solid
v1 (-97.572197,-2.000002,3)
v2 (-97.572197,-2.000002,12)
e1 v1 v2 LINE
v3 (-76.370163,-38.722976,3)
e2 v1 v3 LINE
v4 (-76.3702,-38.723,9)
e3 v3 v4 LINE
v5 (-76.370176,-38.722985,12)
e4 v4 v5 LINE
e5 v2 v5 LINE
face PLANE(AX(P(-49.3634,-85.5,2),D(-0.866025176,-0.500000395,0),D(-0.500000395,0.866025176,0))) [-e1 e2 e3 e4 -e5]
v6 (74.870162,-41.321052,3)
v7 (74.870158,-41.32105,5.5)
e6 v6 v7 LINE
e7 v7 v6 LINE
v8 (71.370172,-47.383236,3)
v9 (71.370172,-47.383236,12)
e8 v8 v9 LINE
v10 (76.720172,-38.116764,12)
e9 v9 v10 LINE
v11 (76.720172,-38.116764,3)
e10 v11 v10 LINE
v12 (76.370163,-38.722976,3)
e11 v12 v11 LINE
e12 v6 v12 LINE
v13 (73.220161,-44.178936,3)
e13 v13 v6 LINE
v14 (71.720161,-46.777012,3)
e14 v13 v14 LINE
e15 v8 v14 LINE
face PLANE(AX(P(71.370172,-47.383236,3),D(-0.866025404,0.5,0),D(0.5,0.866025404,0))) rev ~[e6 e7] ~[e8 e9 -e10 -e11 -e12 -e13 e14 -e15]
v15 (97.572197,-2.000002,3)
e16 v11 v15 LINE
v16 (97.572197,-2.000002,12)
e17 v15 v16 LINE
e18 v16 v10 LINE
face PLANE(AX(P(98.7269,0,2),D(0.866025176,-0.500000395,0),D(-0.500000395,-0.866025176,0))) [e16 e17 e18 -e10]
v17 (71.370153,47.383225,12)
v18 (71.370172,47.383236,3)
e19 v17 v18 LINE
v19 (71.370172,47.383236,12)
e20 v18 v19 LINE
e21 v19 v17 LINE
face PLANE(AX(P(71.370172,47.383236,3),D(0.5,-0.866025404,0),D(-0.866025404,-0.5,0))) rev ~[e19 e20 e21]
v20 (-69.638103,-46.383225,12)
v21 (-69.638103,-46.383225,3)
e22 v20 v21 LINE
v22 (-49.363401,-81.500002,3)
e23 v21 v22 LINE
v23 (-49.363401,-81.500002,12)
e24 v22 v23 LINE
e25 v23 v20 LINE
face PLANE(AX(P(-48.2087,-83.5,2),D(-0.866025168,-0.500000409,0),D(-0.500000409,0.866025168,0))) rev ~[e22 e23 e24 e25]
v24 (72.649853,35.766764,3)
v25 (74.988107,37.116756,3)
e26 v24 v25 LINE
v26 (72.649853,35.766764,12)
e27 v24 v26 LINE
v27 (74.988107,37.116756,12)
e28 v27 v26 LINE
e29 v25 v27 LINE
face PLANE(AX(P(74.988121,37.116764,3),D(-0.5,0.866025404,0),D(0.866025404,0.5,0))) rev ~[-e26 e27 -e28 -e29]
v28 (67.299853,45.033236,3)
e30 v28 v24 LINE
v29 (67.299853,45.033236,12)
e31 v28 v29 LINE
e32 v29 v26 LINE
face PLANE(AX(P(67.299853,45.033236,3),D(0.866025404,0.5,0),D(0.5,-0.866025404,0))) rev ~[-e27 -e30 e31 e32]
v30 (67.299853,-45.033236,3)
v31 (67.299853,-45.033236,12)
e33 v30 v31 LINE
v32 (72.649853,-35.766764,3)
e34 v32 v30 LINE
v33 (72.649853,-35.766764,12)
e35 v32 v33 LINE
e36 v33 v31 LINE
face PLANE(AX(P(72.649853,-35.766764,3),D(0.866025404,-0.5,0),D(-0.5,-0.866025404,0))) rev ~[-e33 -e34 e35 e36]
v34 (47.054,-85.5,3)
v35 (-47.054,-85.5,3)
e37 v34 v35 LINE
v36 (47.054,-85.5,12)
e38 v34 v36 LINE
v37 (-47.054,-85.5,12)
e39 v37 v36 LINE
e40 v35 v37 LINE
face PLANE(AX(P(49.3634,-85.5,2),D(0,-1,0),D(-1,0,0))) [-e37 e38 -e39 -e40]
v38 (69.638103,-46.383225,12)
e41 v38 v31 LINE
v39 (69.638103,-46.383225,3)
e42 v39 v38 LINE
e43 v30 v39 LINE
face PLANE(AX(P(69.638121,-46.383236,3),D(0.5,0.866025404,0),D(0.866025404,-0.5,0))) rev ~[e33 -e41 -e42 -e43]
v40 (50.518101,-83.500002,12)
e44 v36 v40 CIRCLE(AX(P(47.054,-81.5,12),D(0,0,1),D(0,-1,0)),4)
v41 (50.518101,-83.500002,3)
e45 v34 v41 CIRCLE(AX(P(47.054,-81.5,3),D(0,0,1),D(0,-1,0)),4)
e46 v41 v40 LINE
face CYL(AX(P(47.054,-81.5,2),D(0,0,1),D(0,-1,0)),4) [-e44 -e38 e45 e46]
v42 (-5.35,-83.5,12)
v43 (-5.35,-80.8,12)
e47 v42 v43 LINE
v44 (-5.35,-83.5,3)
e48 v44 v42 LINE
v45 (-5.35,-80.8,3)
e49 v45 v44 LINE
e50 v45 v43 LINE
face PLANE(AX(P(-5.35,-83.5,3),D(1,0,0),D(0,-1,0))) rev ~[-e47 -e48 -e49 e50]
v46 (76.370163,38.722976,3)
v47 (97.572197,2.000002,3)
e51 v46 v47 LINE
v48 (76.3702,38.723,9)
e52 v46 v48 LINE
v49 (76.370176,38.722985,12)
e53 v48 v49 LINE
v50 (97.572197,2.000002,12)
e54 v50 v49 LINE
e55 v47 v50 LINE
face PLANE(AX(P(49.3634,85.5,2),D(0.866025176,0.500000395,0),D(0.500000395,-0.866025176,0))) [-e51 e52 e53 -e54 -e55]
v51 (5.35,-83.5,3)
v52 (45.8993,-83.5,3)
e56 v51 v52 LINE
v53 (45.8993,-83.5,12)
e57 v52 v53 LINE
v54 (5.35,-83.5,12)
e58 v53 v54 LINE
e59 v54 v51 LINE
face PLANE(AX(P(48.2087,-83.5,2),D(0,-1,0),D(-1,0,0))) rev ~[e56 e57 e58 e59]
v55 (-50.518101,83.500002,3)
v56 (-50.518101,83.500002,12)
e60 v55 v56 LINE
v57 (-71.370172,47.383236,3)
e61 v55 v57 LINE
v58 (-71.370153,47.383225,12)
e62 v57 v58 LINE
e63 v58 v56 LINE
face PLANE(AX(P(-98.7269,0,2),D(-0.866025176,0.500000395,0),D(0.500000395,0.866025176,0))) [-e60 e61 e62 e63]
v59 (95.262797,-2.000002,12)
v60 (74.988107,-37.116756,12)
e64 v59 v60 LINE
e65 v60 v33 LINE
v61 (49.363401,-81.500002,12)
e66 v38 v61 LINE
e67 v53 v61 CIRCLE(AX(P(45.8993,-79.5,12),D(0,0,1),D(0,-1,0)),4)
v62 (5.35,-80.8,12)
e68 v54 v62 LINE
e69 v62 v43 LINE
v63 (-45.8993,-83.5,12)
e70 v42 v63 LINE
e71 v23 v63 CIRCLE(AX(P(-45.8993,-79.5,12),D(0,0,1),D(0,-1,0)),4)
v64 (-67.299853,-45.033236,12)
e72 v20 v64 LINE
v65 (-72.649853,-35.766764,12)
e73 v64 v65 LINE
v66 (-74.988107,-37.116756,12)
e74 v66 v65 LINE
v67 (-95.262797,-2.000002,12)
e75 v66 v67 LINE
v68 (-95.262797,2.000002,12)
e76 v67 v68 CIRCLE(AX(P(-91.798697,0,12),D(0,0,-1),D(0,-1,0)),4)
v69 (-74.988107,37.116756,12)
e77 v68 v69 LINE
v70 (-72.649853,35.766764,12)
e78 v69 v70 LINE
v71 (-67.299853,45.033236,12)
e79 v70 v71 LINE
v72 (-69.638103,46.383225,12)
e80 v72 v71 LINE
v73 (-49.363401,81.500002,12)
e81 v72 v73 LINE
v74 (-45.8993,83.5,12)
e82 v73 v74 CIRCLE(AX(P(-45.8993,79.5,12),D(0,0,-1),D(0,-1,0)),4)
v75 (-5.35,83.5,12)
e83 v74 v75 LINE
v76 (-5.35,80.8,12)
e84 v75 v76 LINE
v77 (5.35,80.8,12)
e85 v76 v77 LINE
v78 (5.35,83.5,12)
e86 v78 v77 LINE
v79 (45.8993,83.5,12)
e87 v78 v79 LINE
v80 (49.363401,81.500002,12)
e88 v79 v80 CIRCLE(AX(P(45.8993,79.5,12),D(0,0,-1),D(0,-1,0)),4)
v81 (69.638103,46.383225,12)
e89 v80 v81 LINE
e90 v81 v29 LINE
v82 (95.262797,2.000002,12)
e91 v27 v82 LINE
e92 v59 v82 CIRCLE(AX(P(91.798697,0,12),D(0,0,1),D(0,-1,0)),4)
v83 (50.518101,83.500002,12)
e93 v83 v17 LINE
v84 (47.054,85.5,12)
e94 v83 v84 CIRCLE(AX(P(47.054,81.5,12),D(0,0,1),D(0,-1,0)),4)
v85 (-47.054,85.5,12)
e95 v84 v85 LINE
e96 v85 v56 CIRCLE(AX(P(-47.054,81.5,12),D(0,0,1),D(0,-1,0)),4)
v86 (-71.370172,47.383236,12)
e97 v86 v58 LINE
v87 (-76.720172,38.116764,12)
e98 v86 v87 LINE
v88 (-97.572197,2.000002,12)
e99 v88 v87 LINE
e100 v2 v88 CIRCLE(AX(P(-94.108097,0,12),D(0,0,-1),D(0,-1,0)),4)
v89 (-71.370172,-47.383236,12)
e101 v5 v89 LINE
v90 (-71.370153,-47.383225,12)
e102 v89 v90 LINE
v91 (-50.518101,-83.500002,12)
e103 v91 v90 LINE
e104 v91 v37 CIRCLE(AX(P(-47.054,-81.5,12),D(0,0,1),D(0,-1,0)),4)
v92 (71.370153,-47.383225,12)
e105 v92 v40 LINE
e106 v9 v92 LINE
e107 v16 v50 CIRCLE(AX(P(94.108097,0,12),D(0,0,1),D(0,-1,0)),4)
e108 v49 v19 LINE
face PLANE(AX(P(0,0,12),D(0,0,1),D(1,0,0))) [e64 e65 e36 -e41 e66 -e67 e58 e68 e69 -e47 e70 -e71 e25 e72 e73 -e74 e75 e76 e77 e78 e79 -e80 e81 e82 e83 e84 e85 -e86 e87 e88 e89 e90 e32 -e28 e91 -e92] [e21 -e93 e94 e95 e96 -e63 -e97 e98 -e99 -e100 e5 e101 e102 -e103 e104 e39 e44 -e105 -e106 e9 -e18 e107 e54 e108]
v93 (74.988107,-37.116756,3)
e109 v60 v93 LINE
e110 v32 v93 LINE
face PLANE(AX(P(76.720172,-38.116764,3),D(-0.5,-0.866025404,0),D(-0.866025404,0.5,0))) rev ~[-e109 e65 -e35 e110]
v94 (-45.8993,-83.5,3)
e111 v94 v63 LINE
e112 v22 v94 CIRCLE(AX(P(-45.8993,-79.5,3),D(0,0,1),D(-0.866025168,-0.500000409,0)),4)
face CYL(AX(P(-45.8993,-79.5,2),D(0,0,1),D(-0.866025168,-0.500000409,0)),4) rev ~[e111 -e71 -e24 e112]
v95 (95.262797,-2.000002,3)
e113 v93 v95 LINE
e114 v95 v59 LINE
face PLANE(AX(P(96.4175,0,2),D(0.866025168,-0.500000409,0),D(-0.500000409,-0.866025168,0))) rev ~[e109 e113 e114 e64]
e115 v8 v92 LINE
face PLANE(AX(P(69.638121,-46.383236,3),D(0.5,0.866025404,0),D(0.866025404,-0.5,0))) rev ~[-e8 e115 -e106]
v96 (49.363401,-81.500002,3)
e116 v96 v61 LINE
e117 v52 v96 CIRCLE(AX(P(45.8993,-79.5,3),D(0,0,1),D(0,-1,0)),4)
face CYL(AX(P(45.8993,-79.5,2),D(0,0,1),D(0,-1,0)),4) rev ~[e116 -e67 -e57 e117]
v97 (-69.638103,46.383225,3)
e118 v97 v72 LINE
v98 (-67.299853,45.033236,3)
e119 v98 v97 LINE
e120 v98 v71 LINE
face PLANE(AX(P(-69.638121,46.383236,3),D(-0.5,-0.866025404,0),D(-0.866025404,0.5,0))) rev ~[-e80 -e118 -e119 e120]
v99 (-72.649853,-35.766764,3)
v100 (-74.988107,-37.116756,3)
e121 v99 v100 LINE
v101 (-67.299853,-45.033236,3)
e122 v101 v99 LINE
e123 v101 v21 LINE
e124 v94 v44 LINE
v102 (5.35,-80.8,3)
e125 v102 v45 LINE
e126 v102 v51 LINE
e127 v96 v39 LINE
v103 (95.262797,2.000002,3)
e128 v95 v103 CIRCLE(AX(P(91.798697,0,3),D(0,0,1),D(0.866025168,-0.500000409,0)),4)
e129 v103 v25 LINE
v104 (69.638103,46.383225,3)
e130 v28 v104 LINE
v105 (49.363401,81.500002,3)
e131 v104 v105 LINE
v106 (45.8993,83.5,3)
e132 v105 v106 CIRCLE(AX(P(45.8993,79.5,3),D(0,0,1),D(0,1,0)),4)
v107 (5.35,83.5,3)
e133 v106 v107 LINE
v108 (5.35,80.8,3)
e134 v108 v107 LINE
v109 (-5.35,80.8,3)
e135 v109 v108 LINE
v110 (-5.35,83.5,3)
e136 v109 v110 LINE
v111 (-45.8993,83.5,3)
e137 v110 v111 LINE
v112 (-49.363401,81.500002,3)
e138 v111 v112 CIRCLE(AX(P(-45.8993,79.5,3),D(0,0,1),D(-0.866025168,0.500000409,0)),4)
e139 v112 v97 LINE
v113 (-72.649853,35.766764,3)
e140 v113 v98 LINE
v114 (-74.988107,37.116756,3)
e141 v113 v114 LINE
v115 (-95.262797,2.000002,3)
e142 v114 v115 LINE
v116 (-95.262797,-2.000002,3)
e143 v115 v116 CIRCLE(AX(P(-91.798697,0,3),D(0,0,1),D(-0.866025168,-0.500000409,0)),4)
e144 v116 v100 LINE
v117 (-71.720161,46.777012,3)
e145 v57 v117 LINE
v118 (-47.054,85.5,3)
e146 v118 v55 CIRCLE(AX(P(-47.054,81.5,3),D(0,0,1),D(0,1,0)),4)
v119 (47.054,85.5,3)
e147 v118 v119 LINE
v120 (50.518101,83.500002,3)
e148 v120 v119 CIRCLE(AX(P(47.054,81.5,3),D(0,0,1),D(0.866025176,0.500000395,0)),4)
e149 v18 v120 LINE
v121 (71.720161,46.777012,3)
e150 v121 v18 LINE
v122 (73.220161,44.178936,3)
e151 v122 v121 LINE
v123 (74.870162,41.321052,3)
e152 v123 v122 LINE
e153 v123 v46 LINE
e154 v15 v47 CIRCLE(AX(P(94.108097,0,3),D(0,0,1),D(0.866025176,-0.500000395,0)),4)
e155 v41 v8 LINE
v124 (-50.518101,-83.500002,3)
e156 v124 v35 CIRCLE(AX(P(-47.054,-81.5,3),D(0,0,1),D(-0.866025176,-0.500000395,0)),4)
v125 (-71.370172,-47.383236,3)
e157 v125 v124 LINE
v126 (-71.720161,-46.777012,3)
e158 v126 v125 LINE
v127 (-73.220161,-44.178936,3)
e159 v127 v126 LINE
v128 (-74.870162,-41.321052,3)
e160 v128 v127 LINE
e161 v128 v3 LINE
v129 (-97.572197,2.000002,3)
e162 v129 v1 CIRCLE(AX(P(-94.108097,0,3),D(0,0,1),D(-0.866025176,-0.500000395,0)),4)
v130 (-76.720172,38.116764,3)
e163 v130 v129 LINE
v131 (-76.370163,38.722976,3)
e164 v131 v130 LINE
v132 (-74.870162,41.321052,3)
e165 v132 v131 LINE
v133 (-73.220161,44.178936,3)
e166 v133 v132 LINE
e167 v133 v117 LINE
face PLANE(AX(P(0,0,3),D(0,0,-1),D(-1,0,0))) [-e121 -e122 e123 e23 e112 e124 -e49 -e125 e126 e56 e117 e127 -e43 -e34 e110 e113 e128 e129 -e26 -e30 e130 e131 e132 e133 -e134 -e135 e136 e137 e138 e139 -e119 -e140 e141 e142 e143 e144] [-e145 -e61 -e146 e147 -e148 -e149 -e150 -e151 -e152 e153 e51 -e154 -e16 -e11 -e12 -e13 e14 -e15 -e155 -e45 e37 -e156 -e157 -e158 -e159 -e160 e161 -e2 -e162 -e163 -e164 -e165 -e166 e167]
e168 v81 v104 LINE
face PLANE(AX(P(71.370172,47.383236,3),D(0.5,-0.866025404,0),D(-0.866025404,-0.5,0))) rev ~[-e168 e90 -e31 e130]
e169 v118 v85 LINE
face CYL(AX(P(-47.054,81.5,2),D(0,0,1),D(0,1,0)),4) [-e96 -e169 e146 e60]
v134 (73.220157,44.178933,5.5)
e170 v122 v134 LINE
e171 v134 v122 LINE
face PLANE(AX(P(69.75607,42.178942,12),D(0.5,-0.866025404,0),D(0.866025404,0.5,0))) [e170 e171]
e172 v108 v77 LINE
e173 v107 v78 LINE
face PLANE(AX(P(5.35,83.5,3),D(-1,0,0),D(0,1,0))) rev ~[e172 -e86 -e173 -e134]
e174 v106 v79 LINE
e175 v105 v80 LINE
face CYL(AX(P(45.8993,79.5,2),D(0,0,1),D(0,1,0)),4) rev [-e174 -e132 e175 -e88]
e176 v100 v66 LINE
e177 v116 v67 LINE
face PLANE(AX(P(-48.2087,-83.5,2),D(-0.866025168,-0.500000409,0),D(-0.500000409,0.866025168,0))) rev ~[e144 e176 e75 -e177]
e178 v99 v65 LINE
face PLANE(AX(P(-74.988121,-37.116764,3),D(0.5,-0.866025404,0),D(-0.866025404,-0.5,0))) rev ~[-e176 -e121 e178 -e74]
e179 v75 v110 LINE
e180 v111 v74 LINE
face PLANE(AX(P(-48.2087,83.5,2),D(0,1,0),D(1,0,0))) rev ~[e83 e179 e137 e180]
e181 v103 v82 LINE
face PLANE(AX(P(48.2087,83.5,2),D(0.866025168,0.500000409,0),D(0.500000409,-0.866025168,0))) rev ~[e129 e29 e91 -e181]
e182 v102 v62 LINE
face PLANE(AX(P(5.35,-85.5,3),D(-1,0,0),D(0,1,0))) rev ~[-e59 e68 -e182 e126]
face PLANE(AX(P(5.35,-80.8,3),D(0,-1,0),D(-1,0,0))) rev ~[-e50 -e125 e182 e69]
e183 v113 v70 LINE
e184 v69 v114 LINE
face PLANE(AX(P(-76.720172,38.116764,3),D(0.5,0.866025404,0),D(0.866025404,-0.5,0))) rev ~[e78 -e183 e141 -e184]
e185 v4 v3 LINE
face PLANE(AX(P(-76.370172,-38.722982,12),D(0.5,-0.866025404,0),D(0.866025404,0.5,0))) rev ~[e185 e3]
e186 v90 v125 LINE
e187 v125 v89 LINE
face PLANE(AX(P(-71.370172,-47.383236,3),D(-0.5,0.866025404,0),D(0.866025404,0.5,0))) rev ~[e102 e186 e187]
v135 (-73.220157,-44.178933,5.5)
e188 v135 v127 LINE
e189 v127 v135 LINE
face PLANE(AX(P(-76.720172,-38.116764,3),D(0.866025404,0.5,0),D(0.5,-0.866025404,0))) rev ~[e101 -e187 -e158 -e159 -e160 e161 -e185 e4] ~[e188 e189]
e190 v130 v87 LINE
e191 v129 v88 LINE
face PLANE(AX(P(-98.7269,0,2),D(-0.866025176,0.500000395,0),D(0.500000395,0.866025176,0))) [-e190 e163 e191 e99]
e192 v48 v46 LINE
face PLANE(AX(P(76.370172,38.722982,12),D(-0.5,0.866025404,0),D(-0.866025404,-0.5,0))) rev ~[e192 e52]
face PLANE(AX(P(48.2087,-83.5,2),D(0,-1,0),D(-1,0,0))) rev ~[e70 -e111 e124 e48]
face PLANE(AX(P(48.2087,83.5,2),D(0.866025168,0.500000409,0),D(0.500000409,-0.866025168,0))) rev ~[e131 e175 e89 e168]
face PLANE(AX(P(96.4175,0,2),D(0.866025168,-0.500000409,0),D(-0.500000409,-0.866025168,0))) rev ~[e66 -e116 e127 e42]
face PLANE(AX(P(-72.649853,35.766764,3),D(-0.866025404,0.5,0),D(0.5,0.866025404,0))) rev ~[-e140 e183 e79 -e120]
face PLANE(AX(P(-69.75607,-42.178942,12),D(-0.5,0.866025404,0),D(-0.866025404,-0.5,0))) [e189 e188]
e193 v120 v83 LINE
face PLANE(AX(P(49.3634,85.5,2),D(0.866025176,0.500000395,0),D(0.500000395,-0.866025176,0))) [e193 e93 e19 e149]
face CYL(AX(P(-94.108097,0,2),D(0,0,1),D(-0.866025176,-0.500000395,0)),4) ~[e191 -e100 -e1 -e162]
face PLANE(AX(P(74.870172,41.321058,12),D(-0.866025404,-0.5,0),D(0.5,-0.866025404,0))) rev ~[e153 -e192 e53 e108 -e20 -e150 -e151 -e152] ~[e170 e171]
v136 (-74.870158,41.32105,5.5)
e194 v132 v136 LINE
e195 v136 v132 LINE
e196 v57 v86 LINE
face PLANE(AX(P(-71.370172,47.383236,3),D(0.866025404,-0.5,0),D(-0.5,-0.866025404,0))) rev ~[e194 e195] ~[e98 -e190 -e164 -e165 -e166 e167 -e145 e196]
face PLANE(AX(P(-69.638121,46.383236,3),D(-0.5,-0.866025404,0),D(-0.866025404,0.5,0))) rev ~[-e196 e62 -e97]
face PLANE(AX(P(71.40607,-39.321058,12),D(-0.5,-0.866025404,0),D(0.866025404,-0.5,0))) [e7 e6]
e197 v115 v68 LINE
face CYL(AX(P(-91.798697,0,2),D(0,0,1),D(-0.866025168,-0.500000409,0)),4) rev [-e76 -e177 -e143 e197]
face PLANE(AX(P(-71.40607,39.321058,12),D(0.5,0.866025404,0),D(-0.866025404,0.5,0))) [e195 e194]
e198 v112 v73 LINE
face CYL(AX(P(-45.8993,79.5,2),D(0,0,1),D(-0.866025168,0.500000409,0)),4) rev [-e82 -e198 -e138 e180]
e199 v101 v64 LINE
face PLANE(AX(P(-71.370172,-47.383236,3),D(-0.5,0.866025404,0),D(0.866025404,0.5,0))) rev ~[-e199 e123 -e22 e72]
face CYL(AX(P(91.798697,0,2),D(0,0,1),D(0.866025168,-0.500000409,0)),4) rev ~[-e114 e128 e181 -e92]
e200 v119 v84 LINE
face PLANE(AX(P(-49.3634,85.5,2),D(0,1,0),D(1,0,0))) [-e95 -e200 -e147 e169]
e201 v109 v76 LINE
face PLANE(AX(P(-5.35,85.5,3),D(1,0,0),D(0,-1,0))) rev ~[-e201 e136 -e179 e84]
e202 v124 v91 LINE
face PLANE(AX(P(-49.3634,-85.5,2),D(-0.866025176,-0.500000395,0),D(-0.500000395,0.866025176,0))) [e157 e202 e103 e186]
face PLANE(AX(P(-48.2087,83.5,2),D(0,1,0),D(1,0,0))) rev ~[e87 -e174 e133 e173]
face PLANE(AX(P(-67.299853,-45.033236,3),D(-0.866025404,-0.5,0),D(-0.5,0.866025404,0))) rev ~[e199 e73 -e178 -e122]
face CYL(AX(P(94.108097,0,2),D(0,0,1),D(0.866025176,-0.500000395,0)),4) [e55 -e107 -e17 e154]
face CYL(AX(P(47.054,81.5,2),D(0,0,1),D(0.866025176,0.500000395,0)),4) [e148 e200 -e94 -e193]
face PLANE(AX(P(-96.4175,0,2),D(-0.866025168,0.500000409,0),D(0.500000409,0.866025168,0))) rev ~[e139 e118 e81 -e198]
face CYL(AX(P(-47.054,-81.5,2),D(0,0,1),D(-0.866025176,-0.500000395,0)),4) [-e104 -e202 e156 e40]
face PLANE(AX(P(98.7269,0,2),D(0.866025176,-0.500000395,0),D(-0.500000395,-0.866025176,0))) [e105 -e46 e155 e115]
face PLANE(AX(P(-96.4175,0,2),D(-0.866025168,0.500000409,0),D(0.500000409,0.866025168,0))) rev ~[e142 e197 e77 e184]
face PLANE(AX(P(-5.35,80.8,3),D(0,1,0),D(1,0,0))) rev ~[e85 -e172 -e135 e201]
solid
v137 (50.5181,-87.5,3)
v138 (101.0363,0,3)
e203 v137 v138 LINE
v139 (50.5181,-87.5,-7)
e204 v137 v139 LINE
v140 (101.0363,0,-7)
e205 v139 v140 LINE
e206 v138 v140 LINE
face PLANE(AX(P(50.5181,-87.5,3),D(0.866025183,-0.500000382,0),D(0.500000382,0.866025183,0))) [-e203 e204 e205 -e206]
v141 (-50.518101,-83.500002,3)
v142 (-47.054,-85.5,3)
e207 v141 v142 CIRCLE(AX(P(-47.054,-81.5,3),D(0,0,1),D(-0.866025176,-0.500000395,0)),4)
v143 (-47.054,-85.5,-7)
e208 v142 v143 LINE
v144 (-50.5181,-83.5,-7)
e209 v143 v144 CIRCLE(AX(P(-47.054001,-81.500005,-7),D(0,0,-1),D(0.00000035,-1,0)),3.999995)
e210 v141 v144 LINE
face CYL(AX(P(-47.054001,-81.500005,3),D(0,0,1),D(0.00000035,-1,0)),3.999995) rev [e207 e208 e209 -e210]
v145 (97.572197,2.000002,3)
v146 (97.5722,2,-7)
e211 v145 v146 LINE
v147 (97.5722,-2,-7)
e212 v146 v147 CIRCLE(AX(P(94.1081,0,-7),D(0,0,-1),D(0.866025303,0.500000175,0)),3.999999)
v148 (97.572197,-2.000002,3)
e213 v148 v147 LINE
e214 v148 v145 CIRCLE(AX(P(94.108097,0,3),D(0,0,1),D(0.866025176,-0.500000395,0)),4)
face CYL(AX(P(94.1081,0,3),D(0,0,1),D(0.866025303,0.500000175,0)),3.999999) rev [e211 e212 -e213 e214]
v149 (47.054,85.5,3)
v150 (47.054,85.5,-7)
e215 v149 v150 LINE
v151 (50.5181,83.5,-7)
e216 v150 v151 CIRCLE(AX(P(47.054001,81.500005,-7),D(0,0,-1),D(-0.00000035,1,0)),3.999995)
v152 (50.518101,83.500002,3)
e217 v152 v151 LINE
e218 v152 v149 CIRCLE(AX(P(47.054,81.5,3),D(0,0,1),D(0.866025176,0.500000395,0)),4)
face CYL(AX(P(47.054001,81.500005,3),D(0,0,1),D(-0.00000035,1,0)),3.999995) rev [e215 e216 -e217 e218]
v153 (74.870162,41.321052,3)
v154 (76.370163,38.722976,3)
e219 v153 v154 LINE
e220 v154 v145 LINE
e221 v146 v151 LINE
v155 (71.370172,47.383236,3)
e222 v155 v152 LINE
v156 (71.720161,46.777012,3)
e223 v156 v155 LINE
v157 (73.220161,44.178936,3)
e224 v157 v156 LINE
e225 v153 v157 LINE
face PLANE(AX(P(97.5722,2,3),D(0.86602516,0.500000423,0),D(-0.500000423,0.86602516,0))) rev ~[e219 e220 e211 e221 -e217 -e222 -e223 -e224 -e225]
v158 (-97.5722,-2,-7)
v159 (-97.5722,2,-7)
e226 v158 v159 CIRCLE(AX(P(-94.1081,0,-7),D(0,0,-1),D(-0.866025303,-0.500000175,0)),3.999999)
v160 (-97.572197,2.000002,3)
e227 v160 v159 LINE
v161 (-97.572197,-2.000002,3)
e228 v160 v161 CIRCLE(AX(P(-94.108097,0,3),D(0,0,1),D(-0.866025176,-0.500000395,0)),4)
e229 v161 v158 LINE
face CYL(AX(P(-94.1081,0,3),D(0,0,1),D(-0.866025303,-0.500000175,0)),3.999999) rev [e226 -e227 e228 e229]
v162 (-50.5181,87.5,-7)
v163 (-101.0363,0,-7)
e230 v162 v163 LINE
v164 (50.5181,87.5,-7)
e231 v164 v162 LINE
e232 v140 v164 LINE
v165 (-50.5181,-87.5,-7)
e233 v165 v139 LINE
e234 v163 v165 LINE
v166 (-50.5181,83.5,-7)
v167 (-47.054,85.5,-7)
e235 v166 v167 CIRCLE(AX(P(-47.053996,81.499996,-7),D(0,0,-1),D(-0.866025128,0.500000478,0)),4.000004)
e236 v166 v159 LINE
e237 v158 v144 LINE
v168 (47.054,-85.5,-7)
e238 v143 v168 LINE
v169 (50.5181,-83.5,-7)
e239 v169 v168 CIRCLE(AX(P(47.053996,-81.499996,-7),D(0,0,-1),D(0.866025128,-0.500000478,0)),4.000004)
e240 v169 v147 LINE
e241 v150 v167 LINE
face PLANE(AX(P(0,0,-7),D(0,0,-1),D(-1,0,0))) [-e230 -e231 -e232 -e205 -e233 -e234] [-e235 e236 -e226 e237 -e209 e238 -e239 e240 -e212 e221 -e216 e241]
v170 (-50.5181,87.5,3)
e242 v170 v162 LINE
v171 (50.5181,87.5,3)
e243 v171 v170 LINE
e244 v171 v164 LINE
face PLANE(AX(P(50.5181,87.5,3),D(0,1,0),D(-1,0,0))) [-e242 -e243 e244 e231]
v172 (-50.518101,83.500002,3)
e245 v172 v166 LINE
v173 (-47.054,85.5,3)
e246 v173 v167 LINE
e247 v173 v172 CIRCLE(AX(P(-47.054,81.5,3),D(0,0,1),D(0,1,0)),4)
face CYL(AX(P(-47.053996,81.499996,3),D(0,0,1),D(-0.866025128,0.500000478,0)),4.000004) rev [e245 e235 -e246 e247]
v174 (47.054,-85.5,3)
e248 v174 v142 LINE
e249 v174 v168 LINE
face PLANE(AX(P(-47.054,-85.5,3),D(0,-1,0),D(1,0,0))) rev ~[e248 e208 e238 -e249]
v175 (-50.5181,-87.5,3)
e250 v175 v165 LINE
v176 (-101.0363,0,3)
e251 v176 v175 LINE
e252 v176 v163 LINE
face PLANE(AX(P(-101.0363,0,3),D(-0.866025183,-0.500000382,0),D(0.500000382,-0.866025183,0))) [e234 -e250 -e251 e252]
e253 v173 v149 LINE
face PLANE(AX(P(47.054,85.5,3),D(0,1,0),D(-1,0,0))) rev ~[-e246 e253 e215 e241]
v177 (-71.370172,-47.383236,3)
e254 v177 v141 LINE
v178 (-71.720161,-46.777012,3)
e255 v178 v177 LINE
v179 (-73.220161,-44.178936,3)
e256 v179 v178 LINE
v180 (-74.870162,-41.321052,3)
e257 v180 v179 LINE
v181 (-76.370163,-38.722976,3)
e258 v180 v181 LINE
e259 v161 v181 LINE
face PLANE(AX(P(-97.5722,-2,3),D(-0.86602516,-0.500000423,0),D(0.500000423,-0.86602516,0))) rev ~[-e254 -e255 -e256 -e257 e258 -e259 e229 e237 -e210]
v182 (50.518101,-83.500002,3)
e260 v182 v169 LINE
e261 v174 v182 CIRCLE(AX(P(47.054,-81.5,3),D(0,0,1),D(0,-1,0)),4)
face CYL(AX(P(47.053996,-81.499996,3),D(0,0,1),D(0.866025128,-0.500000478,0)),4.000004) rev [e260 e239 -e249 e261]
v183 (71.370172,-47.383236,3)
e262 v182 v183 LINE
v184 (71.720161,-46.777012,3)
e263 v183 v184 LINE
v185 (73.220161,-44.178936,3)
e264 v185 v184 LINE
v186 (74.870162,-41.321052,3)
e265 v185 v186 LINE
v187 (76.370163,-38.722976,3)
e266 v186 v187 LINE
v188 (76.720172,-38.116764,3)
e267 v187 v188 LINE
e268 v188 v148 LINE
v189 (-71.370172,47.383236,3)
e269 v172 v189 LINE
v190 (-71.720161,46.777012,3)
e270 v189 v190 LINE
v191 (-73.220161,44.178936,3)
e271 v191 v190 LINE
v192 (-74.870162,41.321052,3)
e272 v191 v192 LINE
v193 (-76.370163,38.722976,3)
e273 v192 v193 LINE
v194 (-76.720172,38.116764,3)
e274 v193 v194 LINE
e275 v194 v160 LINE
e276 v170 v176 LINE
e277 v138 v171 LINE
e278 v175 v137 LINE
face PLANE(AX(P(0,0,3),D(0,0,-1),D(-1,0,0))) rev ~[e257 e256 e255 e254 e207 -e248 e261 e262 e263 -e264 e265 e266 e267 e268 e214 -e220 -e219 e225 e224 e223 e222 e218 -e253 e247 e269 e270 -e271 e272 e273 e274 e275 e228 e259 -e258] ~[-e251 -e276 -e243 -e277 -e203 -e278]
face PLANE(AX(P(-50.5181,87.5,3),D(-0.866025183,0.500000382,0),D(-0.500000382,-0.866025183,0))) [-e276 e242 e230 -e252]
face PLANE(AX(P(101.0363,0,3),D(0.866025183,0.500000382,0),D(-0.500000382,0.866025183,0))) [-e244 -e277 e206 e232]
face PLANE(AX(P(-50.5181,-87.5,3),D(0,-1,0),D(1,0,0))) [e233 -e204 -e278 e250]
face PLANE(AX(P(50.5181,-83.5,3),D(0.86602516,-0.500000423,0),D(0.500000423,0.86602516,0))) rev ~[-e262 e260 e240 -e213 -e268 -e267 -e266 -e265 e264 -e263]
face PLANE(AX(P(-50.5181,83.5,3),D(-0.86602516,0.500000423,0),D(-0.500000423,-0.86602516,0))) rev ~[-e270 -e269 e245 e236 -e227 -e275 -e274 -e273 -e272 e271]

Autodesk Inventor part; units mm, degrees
ref_plane "YZ Plane" through (0, 0, 0) normal (1, 0, 0) x (0, 1, 0)
ref_plane "XZ Plane" through (0, 0, 0) normal (0, 1, 0) x (-1, 0, 0)
ref_plane "XY Plane" through (0, 0, 0) normal (0, 0, 1) x (1, 0, 0)
sketch "Sketch1" plane through (0, 0, 0) normal (0, 0, 1) x (1, 0, 0)
  line L0 (50.5181, -87.5) -> (-50.5181, -87.5)
  line L1 (-50.5181, -87.5) -> (-101.0363, 0)
  line L2 (-101.0363, 0) -> (-50.5181, 87.5)
  line L3 (-50.5181, 87.5) -> (50.5181, 87.5)
  line L4 (50.5181, 87.5) -> (101.0363, 0)
  line L5 (101.0363, 0) -> (50.5181, -87.5)
  point P0 (0, 0)
  point P1 (0, 0)
  dimension "d0" = 175
extrude "Extrusion1" add sketch "Sketch1" along normal blind 2
sketch "Sketch5" plane through (0, 0, 2) normal (0, 0, 1) x (1, 0, 0)
  line L0 (-50.5181, -87.5) -> (50.5181, -87.5) projected
  line L1 (50.5181, -87.5) -> (101.0363, 0) projected
  line L2 (101.0363, 0) -> (50.5181, 87.5) projected
  line L3 (50.5181, 87.5) -> (-50.5181, 87.5) projected
  line L4 (-50.5181, 87.5) -> (-101.0363, 0) projected
  line L5 (-101.0363, 0) -> (-50.5181, -87.5) projected
  line L6 (-98.7269, 0) -> (-49.3634, 85.5)
  line L7 (-49.3634, 85.5) -> (49.3634, 85.5)
  line L8 (49.3634, 85.5) -> (98.7269, 0)
  line L9 (98.7269, 0) -> (49.3634, -85.5)
  line L10 (49.3634, -85.5) -> (-49.3634, -85.5)
  line L11 (-49.3634, -85.5) -> (-98.7269, 0)
  line L12 (-96.4175, 0) -> (-48.2087, 83.5)
  line L13 (-48.2087, 83.5) -> (48.2087, 83.5)
  line L14 (48.2087, 83.5) -> (96.4175, 0)
  line L15 (96.4175, 0) -> (48.2087, -83.5)
  line L16 (48.2087, -83.5) -> (-48.2087, -83.5)
  line L17 (-48.2087, -83.5) -> (-96.4175, 0)
  point P0 (0, 0)
  dimension "d15" = 2
  dimension "d16" = 2
extrude "Extrusion5" add sketch "Sketch5" along normal blind 10 contours L6 L7 L8 L9 L10 L11
sketch "Sketch7" plane through (0, 0, 2) normal (0, 0, 1) x (1, 0, 0)
  line L0 (48.2087, 83.5) -> (-48.2087, 83.5) projected
  line L1 (-48.2087, 83.5) -> (-96.4175, 0) projected
  line L2 (-96.4175, 0) -> (-48.2087, -83.5) projected
  line L3 (-48.2087, -83.5) -> (48.2087, -83.5) projected
  line L4 (48.2087, -83.5) -> (96.4175, 0) projected
  line L5 (96.4175, 0) -> (48.2087, 83.5) projected
  line L6 (-45.8993, -79.5) -> (-91.7987, 0)
  line L7 (-91.7987, 0) -> (-45.8993, 79.5)
  line L8 (-45.8993, 79.5) -> (45.8993, 79.5)
  line L9 (45.8993, 79.5) -> (91.7987, 0)
  line L10 (91.7987, 0) -> (45.8993, -79.5)
  line L11 (45.8993, -79.5) -> (-45.8993, -79.5)
  point P0 (0, 0)
  dimension "d19" = 4
extrude "Extrusion6" cut sketch "Sketch7" against normal blind 7 contours L6 L7 L8 L9 L10 L11
fillet "Fillet1" radius 10 6 edges at (50.5181, 87.5, 1) (101.0363, 0, 1) (50.5181, -87.5, 1) (-50.5181, -87.5, 1) (-101.0363, 0, 1) (-50.5181, 87.5, 1)
fillet "Fillet1" radius 4 12 edges at (49.3634, -85.5, 7) (-48.2087, -83.5, 7) (-98.7269, 0, 7) (-49.3634, 85.5, 7) (49.3634, 85.5, 7) (98.7269, 0, 7) (48.2087, -83.5, 7) (96.4175, 0, 7) (-48.2087, 83.5, 7) (48.2087, 83.5, 7) (-49.3634, -85.5, 7) (-96.4175, 0, 7)
fillet "Fillet2" radius 10 6 edges at (45.8993, -79.5, 1) (91.7987, 0, 1) (45.8993, 79.5, 1) (-45.8993, 79.5, 1) (-91.7987, 0, 1) (-45.8993, -79.5, 1)
sketch "Sketch8" plane through (0, 0, 12) normal (0, 0, 1) x (1, 0, 0)
  line L0 (-1.65, 83.5) -> (1.65, 83.5)
  line L1 (1.65, 83.5) -> (1.65, 85.5)
  line L2 (1.65, 85.5) -> (-1.65, 85.5)
  line L3 (-1.65, 85.5) -> (-1.65, 83.5)
  line L4 (47.054, 85.5) -> (-47.054, 85.5) projected
  line L5 (-45.8993, 83.5) -> (45.8993, 83.5) projected
  point P0 (0, 0)
  point P1 (0, 85.5)
  point P2 (0, 85.5)
  point P3 (0, 0)
  dimension "d25" = 3.3
extrude "Extrusion7" cut sketch "Sketch8" against normal blind 6.5
sketch "Sketch9" plane through (0, 0, 12) normal (0, 0, 1) x (1, 0, 0)
  line L0 (-4.65, 81.5) -> (-1.65, 81.5)
  line L1 (-1.65, 81.5) -> (-1.65, 85.5)
  line L2 (-1.65, 85.5) -> (-4.65, 85.5)
  line L3 (-4.65, 85.5) -> (-4.65, 81.5)
  line L4 (1.65, 83.5) -> (-1.65, 83.5) projected
  line L5 (1.65, 85.5) -> (1.65, 83.5) projected
  line L6 (-1.65, 85.5) -> (1.65, 85.5) projected
  line L7 (-1.65, 83.5) -> (-1.65, 85.5) projected
  line L8 (0, 83.5) -> (0, 81.6202) construction
  line L9 (-45.8993, 83.5) -> (-1.65, 83.5) projected
  line L10 (-1.65, 83.5) -> (-1.65, 85.5) projected
  line L11 (4.65, 81.5) -> (1.65, 81.5)
  line L12 (1.65, 81.5) -> (1.65, 85.5)
  line L13 (1.65, 85.5) -> (4.65, 85.5)
  line L14 (4.65, 85.5) -> (4.65, 81.5)
  line L15 (-1.65, 85.5) -> (-47.054, 85.5) projected
  point P0 (0, 0)
  dimension "d28" = 4
  dimension "d29" = 3
extrude "Extrusion8" add sketch "Sketch9" against normal up to surface (10 mm away) contours L3 L9 L1 L0 | L3 L2 L1 L9 | L5 L13 L14 L11 L12
pattern_circular "Circular Pattern1" count 6 over 360 about axis through (0, 0, 0) along (0, 0, 1) of "Extrusion8", "Extrusion7"
sketch "Sketch11" plane through (0, 0, 0) normal (0, 0, -1) x (-1, 0, 0)
  arc A0 (53.4049, 82.5) -> (44.7446, 87.5) centre (44.7446, 77.5) ccw projected
  line L0 (44.7446, 87.5) -> (-44.7446, 87.5) projected
  arc A1 (-44.7446, 87.5) -> (-53.4049, 82.5) centre (-44.7446, 77.5) ccw projected
  line L1 (-53.4049, 82.5) -> (-98.1495, 5) projected
  arc A2 (-98.1495, 5) -> (-98.1495, -5) centre (-89.4893, 0) ccw projected
  line L2 (-98.1495, -5) -> (-53.4049, -82.5) projected
  arc A3 (-53.4049, -82.5) -> (-44.7446, -87.5) centre (-44.7446, -77.5) ccw projected
  line L3 (-44.7446, -87.5) -> (44.7446, -87.5) projected
  arc A4 (44.7446, -87.5) -> (53.4049, -82.5) centre (44.7446, -77.5) ccw projected
  line L4 (53.4049, -82.5) -> (98.1495, -5) projected
  arc A5 (98.1495, -5) -> (98.1495, 5) centre (89.4893, 0) ccw projected
  line L5 (98.1495, 5) -> (53.4049, 82.5) projected
  line L6 (40.1258, -79.5) -> (-40.1258, -79.5) projected
  arc A6 (-48.7861, -74.5) -> (-40.1258, -79.5) centre (-40.1258, -69.5) ccw projected
  line L7 (-48.7861, -74.5) -> (-88.9119, -5) projected
  arc A7 (-88.9119, 5) -> (-88.9119, -5) centre (-80.2517, 0) ccw projected
  line L8 (-88.9119, 5) -> (-48.7861, 74.5) projected
  arc A8 (-40.1258, 79.5) -> (-48.7861, 74.5) centre (-40.1258, 69.5) ccw projected
  line L9 (-40.1258, 79.5) -> (40.1258, 79.5) projected
  arc A9 (48.7861, 74.5) -> (40.1258, 79.5) centre (40.1258, 69.5) ccw projected
  line L10 (48.7861, 74.5) -> (88.9119, 5) projected
  arc A10 (88.9119, -5) -> (88.9119, 5) centre (80.2517, 0) ccw projected
  line L11 (88.9119, -5) -> (48.7861, -74.5) projected
  arc A11 (40.1258, -79.5) -> (48.7861, -74.5) centre (40.1258, -69.5) ccw projected
  point P0 (0, 0)
extrude "Extrusion9" cut sketch "Sketch11" against normal blind 3
sketch "Sketch12" plane through (0, 0, 12) normal (0, 0, 1) x (1, 0, 0)
  line L0 (74.6381, 37.723) -> (95.2628, 2) projected
  arc A0 (95.2628, -2) -> (95.2628, 2) centre (91.7987, 0) ccw projected
  line L1 (95.2628, -2) -> (74.6381, -37.723) projected
  line L2 (74.6381, -37.723) -> (72.9061, -36.723) projected
  line L3 (72.9061, -36.723) -> (71.4061, -39.3211) projected
  line L4 (71.4061, -39.3211) -> (74.8702, -41.3211) projected
  line L5 (74.8702, -41.3211) -> (97.5722, -2) projected
  arc A1 (97.5722, -2) -> (97.5722, 2) centre (94.1081, 0) ccw projected
  line L6 (97.5722, 2) -> (74.8702, 41.3211) projected
  line L7 (71.4061, 39.3211) -> (74.8702, 41.3211) projected
  line L8 (72.9061, 36.723) -> (71.4061, 39.3211) projected
  line L9 (74.6381, 37.723) -> (72.9061, 36.723) projected
  line L10 (73.2202, 44.1789) -> (50.5181, 83.5) projected
  arc A2 (50.5181, 83.5) -> (47.054, 85.5) centre (47.054, 81.5) ccw projected
  line L11 (47.054, 85.5) -> (1.65, 85.5) projected
  line L12 (1.65, 81.5) -> (1.65, 85.5) projected
  line L13 (4.65, 81.5) -> (1.65, 81.5) projected
  line L14 (4.65, 83.5) -> (4.65, 81.5) projected
  line L15 (4.65, 83.5) -> (45.8993, 83.5) projected
  arc A3 (49.3634, 81.5) -> (45.8993, 83.5) centre (45.8993, 79.5) ccw projected
  line L16 (49.3634, 81.5) -> (69.9881, 45.777) projected
  line L17 (69.9881, 45.777) -> (68.2561, 44.777) projected
  line L18 (68.2561, 44.777) -> (69.7561, 42.1789) projected
  line L19 (69.7561, 42.1789) -> (73.2202, 44.1789) projected
  line L20 (-69.9881, 45.777) -> (-49.3634, 81.5) projected
  arc A4 (-45.8993, 83.5) -> (-49.3634, 81.5) centre (-45.8993, 79.5) ccw projected
  line L21 (-45.8993, 83.5) -> (-4.65, 83.5) projected
  line L22 (-4.65, 83.5) -> (-4.65, 81.5) projected
  line L23 (-4.65, 81.5) -> (-1.65, 81.5) projected
  line L24 (-1.65, 81.5) -> (-1.65, 85.5) projected
  line L25 (-1.65, 85.5) -> (-47.054, 85.5) projected
  arc A5 (-47.054, 85.5) -> (-50.5181, 83.5) centre (-47.054, 81.5) ccw projected
  line L26 (-50.5181, 83.5) -> (-73.2202, 44.1789) projected
  line L27 (-69.7561, 42.1789) -> (-73.2202, 44.1789) projected
  line L28 (-68.2561, 44.777) -> (-69.7561, 42.1789) projected
  line L29 (-69.9881, 45.777) -> (-68.2561, 44.777) projected
  line L30 (-74.6381, -37.723) -> (-95.2628, -2) projected
  arc A6 (-95.2628, 2) -> (-95.2628, -2) centre (-91.7987, 0) ccw projected
  line L31 (-95.2628, 2) -> (-74.6381, 37.723) projected
  line L32 (-74.6381, 37.723) -> (-72.9061, 36.723) projected
  line L33 (-72.9061, 36.723) -> (-71.4061, 39.3211) projected
  line L34 (-71.4061, 39.3211) -> (-74.8702, 41.3211) projected
  line L35 (-74.8702, 41.3211) -> (-97.5722, 2) projected
  arc A7 (-97.5722, 2) -> (-97.5722, -2) centre (-94.1081, 0) ccw projected
  line L36 (-97.5722, -2) -> (-74.8702, -41.3211) projected
  line L37 (-71.4061, -39.3211) -> (-74.8702, -41.3211) projected
  line L38 (-72.9061, -36.723) -> (-71.4061, -39.3211) projected
  line L39 (-74.6381, -37.723) -> (-72.9061, -36.723) projected
  line L40 (-4.65, -83.5) -> (-45.8993, -83.5) projected
  arc A8 (-49.3634, -81.5) -> (-45.8993, -83.5) centre (-45.8993, -79.5) ccw projected
  line L41 (-49.3634, -81.5) -> (-69.9881, -45.777) projected
  line L42 (-69.9881, -45.777) -> (-68.2561, -44.777) projected
  line L43 (-68.2561, -44.777) -> (-69.7561, -42.1789) projected
  line L44 (-69.7561, -42.1789) -> (-73.2202, -44.1789) projected
  line L45 (-73.2202, -44.1789) -> (-50.5181, -83.5) projected
  arc A9 (-50.5181, -83.5) -> (-47.054, -85.5) centre (-47.054, -81.5) ccw projected
  line L46 (-47.054, -85.5) -> (-1.65, -85.5) projected
  line L47 (-1.65, -81.5) -> (-1.65, -85.5) projected
  line L48 (-4.65, -81.5) -> (-1.65, -81.5) projected
  line L49 (-4.65, -83.5) -> (-4.65, -81.5) projected
  line L50 (69.9881, -45.777) -> (49.3634, -81.5) projected
  arc A10 (45.8993, -83.5) -> (49.3634, -81.5) centre (45.8993, -79.5) ccw projected
  line L51 (45.8993, -83.5) -> (4.65, -83.5) projected
  line L52 (4.65, -83.5) -> (4.65, -81.5) projected
  line L53 (4.65, -81.5) -> (1.65, -81.5) projected
  line L54 (1.65, -81.5) -> (1.65, -85.5) projected
  line L55 (1.65, -85.5) -> (47.054, -85.5) projected
  arc A11 (47.054, -85.5) -> (50.5181, -83.5) centre (47.054, -81.5) ccw projected
  line L56 (50.5181, -83.5) -> (73.2202, -44.1789) projected
  line L57 (69.7561, -42.1789) -> (73.2202, -44.1789) projected
  line L58 (68.2561, -44.777) -> (69.7561, -42.1789) projected
  line L59 (69.9881, -45.777) -> (68.2561, -44.777) projected
  line L60 (74.6381, 37.723) -> (72.9061, 36.723) projected
  line L61 (72.9061, 36.723) -> (76.3702, 38.723)
  line L62 (97.5722, 2) -> (74.8702, 41.3211) projected
  line L63 (76.3702, 38.723) -> (74.8702, 41.3211)
  line L64 (74.8702, 41.3211) -> (71.4061, 39.3211)
  line L65 (71.4061, 39.3211) -> (72.9061, 36.723)
  line L66 (69.7561, 42.1789) -> (73.2202, 44.1789) projected
  line L67 (73.2202, 44.1789) -> (69.7561, 42.1789)
  line L68 (69.7561, 42.1789) -> (68.2561, 44.777)
  line L69 (68.2561, 44.777) -> (71.7202, 46.777)
  line L70 (71.7202, 46.777) -> (73.2202, 44.1789)
  line L71 (97.5722, 2) -> (50.5181, 83.5) projected
  point P0 (0, 0)
extrude "Extrusion10" cut sketch "Sketch12" against normal blind 3 contours L19 L18 L17 L69 L10 | L9 L8 L7 L6 L61
sketch "Sketch13" plane through (73.1381, 40.3211, 5.5) normal (0, 0, 1) x (0.866, 0.5, 0)
  line L0 (0, 0) -> (0, 3.3) projected
  line L1 (2, 0) -> (0, 0) projected
  line L2 (2, 3.3) -> (2, 0) projected
  line L3 (0, 3.3) -> (2, 3.3) projected
  line L4 (2, 6.3) -> (2, 3.3) projected
  line L5 (0, 6.3) -> (2, 6.3) projected
  line L6 (-2, 6.3) -> (0, 6.3) projected
  line L7 (-2, 3.3) -> (-2, 6.3) projected
  line L8 (2, 3.3) -> (-2, 3.3) projected
  line L9 (2, -3) -> (0, -3) projected
  line L10 (2, 0) -> (2, -3) projected
  line L11 (-2, 0) -> (2, 0) projected
  line L12 (-2, -3) -> (-2, 0) projected
  line L13 (0, -3) -> (-2, -3) projected
  line L14 (0, 0) -> (-2, 0) projected
  line L15 (2, 3.3) -> (-2, 3.3)
  line L16 (-2, 3.3) -> (-2, 0)
  line L17 (-2, 0) -> (2, 0)
  line L18 (2, 0) -> (2, 3.3)
  point P0 (-83.5, 1.65)
extrude "Extrusion11" add sketch "Sketch13" along normal blind 3.5 contours L11 L16 L8 L0 | L0 L3 L2 L1
pattern_circular "Circular Pattern2" count 6 over 360 about axis through (0, 0, 0) along (0, 0, 1) of "Extrusion11", "Extrusion10"
sketch "Sketch14" plane through (0, 0, 3) normal (0, 0, -1) x (-1, 0, 0)
  line L0 (1.65, 83.5) -> (-1.65, 83.5) projected
  line L1 (1.65, 81.5) -> (1.65, 83.5) projected
  line L2 (4.65, 81.5) -> (1.65, 81.5) projected
  line L3 (4.65, 83.5) -> (4.65, 81.5) projected
  line L4 (45.8993, 83.5) -> (4.65, 83.5) projected
  arc A0 (49.3634, 81.5) -> (45.8993, 83.5) centre (45.8993, 79.5) ccw projected
  line L5 (69.9881, 45.777) -> (49.3634, 81.5) projected
  line L6 (68.2561, 44.777) -> (69.9881, 45.777) projected
  line L7 (69.7561, 42.1789) -> (68.2561, 44.777) projected
  line L8 (71.4881, 43.1789) -> (69.7561, 42.1789) projected
  line L9 (73.1381, 40.3211) -> (71.4881, 43.1789) projected
  line L10 (71.4061, 39.3211) -> (73.1381, 40.3211) projected
  line L11 (72.9061, 36.723) -> (71.4061, 39.3211) projected
  line L12 (74.6381, 37.723) -> (72.9061, 36.723) projected
  line L13 (95.2628, 2) -> (74.6381, 37.723) projected
  arc A1 (95.2628, -2) -> (95.2628, 2) centre (91.7987, 0) ccw projected
  line L14 (74.6381, -37.723) -> (95.2628, -2) projected
  line L15 (72.9061, -36.723) -> (74.6381, -37.723) projected
  line L16 (71.4061, -39.3211) -> (72.9061, -36.723) projected
  line L17 (73.1381, -40.3211) -> (71.4061, -39.3211) projected
  line L18 (71.4881, -43.1789) -> (73.1381, -40.3211) projected
  line L19 (69.7561, -42.1789) -> (71.4881, -43.1789) projected
  line L20 (68.2561, -44.777) -> (69.7561, -42.1789) projected
  line L21 (69.9881, -45.777) -> (68.2561, -44.777) projected
  line L22 (49.3634, -81.5) -> (69.9881, -45.777) projected
  arc A2 (45.8993, -83.5) -> (49.3634, -81.5) centre (45.8993, -79.5) ccw projected
  line L23 (4.65, -83.5) -> (45.8993, -83.5) projected
  line L24 (4.65, -81.5) -> (4.65, -83.5) projected
  line L25 (1.65, -81.5) -> (4.65, -81.5) projected
  line L26 (1.65, -83.5) -> (1.65, -81.5) projected
  line L27 (-1.65, -83.5) -> (1.65, -83.5) projected
  line L28 (-1.65, -81.5) -> (-1.65, -83.5) projected
  line L29 (-4.65, -81.5) -> (-1.65, -81.5) projected
  line L30 (-4.65, -83.5) -> (-4.65, -81.5) projected
  line L31 (-45.8993, -83.5) -> (-4.65, -83.5) projected
  arc A3 (-49.3634, -81.5) -> (-45.8993, -83.5) centre (-45.8993, -79.5) ccw projected
  line L32 (-69.9881, -45.777) -> (-49.3634, -81.5) projected
  line L33 (-68.2561, -44.777) -> (-69.9881, -45.777) projected
  line L34 (-69.7561, -42.1789) -> (-68.2561, -44.777) projected
  line L35 (-71.4881, -43.1789) -> (-69.7561, -42.1789) projected
  line L36 (-73.1381, -40.3211) -> (-71.4881, -43.1789) projected
  line L37 (-71.4061, -39.3211) -> (-73.1381, -40.3211) projected
  line L38 (-72.9061, -36.723) -> (-71.4061, -39.3211) projected
  line L39 (-74.6381, -37.723) -> (-72.9061, -36.723) projected
  line L40 (-95.2628, -2) -> (-74.6381, -37.723) projected
  arc A4 (-95.2628, 2) -> (-95.2628, -2) centre (-91.7987, 0) ccw projected
  line L41 (-74.6381, 37.723) -> (-95.2628, 2) projected
  line L42 (-72.9061, 36.723) -> (-74.6381, 37.723) projected
  line L43 (-71.4061, 39.3211) -> (-72.9061, 36.723) projected
  line L44 (-73.1381, 40.3211) -> (-71.4061, 39.3211) projected
  line L45 (-71.4881, 43.1789) -> (-73.1381, 40.3211) projected
  line L46 (-69.7561, 42.1789) -> (-71.4881, 43.1789) projected
  line L47 (-68.2561, 44.777) -> (-69.7561, 42.1789) projected
  line L48 (-69.9881, 45.777) -> (-68.2561, 44.777) projected
  line L49 (-49.3634, 81.5) -> (-69.9881, 45.777) projected
  arc A5 (-45.8993, 83.5) -> (-49.3634, 81.5) centre (-45.8993, 79.5) ccw projected
  line L50 (-4.65, 83.5) -> (-45.8993, 83.5) projected
  line L51 (-4.65, 81.5) -> (-4.65, 83.5) projected
  line L52 (-1.65, 81.5) -> (-4.65, 81.5) projected
  line L53 (-1.65, 83.5) -> (-1.65, 81.5) projected
  line L54 (-47.054, 85.5) -> (47.054, 85.5) projected
  arc A6 (-47.054, 85.5) -> (-50.5181, 83.5) centre (-47.054, 81.5) ccw projected
  line L55 (-97.5722, 2) -> (-50.5181, 83.5) projected
  arc A7 (-97.5722, 2) -> (-97.5722, -2) centre (-94.1081, 0) ccw projected
  line L56 (-50.5181, -83.5) -> (-97.5722, -2) projected
  arc A8 (-50.5181, -83.5) -> (-47.054, -85.5) centre (-47.054, -81.5) ccw projected
  line L57 (47.054, -85.5) -> (-47.054, -85.5) projected
  arc A9 (47.054, -85.5) -> (50.5181, -83.5) centre (47.054, -81.5) ccw projected
  line L58 (97.5722, -2) -> (50.5181, -83.5) projected
  arc A10 (97.5722, -2) -> (97.5722, 2) centre (94.1081, 0) ccw projected
  line L59 (50.5181, 83.5) -> (97.5722, 2) projected
  arc A11 (50.5181, 83.5) -> (47.054, 85.5) centre (47.054, 81.5) ccw projected
  line L60 (5.35, -85.5) -> (-5.35, -85.5)
  line L61 (-5.35, -85.5) -> (-5.35, -80.8)
  line L62 (-5.35, -80.8) -> (5.35, -80.8)
  line L63 (5.35, -80.8) -> (5.35, -85.5)
  point P0 (0, 0)
  dimension "d44" = 0.7
  dimension "d45" = 0.7
  dimension "d46" = 0.7
extrude "Extrusion12" add sketch "Sketch14" against normal up to surface (9 mm away) contours L63 L57 L61 L31 L30 L29 L28 L27 L26 L25 L24 L23 | L23 L24 L25 L26 L27 L28 L29 L30 L31 L61 L62 L63
pattern_circular "Circular Pattern3" count 6 over 360 about axis through (0, 0, 0) along (0, 0, 1) of "Extrusion12"
sketch "Sketch15" plane through (0, 0, 3) normal (0, 0, -1) x (-1, 0, 0)
  line L0 (49.3634, -81.5) -> (69.6381, -46.3832) projected
  arc A0 (45.8993, -83.5) -> (49.3634, -81.5) centre (45.8993, -79.5) ccw projected
  line L1 (5.35, -83.5) -> (45.8993, -83.5) projected
  line L2 (5.35, -80.8) -> (5.35, -83.5) projected
  line L3 (-5.35, -80.8) -> (5.35, -80.8) projected
  line L4 (-5.35, -83.5) -> (-5.35, -80.8) projected
  line L5 (-45.8993, -83.5) -> (-5.35, -83.5) projected
  arc A1 (-49.3634, -81.5) -> (-45.8993, -83.5) centre (-45.8993, -79.5) ccw projected
  line L6 (-69.6381, -46.3832) -> (-49.3634, -81.5) projected
  line L7 (-67.2999, -45.0332) -> (-69.6381, -46.3832) projected
  line L8 (-72.6499, -35.7668) -> (-67.2999, -45.0332) projected
  line L9 (-74.9881, -37.1168) -> (-72.6499, -35.7668) projected
  line L10 (-95.2628, -2) -> (-74.9881, -37.1168) projected
  arc A2 (-95.2628, 2) -> (-95.2628, -2) centre (-91.7987, 0) ccw projected
  line L11 (-74.9881, 37.1168) -> (-95.2628, 2) projected
  line L12 (-72.6499, 35.7668) -> (-74.9881, 37.1168) projected
  line L13 (-67.2999, 45.0332) -> (-72.6499, 35.7668) projected
  line L14 (-69.6381, 46.3832) -> (-67.2999, 45.0332) projected
  line L15 (-49.3634, 81.5) -> (-69.6381, 46.3832) projected
  arc A3 (-45.8993, 83.5) -> (-49.3634, 81.5) centre (-45.8993, 79.5) ccw projected
  line L16 (-5.35, 83.5) -> (-45.8993, 83.5) projected
  line L17 (-5.35, 80.8) -> (-5.35, 83.5) projected
  line L18 (5.35, 80.8) -> (-5.35, 80.8) projected
  line L19 (5.35, 83.5) -> (5.35, 80.8) projected
  line L20 (45.8993, 83.5) -> (5.35, 83.5) projected
  arc A4 (49.3634, 81.5) -> (45.8993, 83.5) centre (45.8993, 79.5) ccw projected
  line L21 (69.6381, 46.3832) -> (49.3634, 81.5) projected
  line L22 (67.2999, 45.0332) -> (69.6381, 46.3832) projected
  line L23 (72.6499, 35.7668) -> (67.2999, 45.0332) projected
  line L24 (74.9881, 37.1168) -> (72.6499, 35.7668) projected
  line L25 (95.2628, 2) -> (74.9881, 37.1168) projected
  arc A5 (95.2628, -2) -> (95.2628, 2) centre (91.7987, 0) ccw projected
  line L26 (74.9881, -37.1168) -> (95.2628, -2) projected
  line L27 (72.6499, -35.7668) -> (74.9881, -37.1168) projected
  line L28 (67.2999, -45.0332) -> (72.6499, -35.7668) projected
  line L29 (69.6381, -46.3832) -> (67.2999, -45.0332) projected
  line L30 (97.5722, -2) -> (50.5181, -83.5) projected
  arc A6 (97.5722, -2) -> (97.5722, 2) centre (94.1081, 0) ccw projected
  line L31 (50.5181, 83.5) -> (97.5722, 2) projected
  arc A7 (50.5181, 83.5) -> (47.054, 85.5) centre (47.054, 81.5) ccw projected
  line L32 (-47.054, 85.5) -> (47.054, 85.5) projected
  arc A8 (-47.054, 85.5) -> (-50.5181, 83.5) centre (-47.054, 81.5) ccw projected
  line L33 (-97.5722, 2) -> (-50.5181, 83.5) projected
  arc A9 (-97.5722, 2) -> (-97.5722, -2) centre (-94.1081, 0) ccw projected
  line L34 (-50.5181, -83.5) -> (-97.5722, -2) projected
  arc A10 (-50.5181, -83.5) -> (-47.054, -85.5) centre (-47.054, -81.5) ccw projected
  line L35 (47.054, -85.5) -> (-47.054, -85.5) projected
  arc A11 (47.054, -85.5) -> (50.5181, -83.5) centre (47.054, -81.5) ccw projected
  line L36 (-50.5181, -87.5) -> (-101.0363, 0)
  line L37 (-101.0363, 0) -> (-50.5181, 87.5)
  line L38 (-50.5181, 87.5) -> (50.5181, 87.5)
  line L39 (50.5181, 87.5) -> (101.0363, 0)
  line L40 (101.0363, 0) -> (50.5181, -87.5)
  line L41 (50.5181, -87.5) -> (-50.5181, -87.5)
  point P0 (0, 0)
  point P1 (0, 0)
  dimension "d52" = 175
extrude "Extrusion13" add sketch "Sketch15" along normal blind 10 contours L36 L37 L38 L39 L40 L41
equation "\"d45\" = d44"
equation "\"d46\" = d44"
properties part number "Cover v1"
